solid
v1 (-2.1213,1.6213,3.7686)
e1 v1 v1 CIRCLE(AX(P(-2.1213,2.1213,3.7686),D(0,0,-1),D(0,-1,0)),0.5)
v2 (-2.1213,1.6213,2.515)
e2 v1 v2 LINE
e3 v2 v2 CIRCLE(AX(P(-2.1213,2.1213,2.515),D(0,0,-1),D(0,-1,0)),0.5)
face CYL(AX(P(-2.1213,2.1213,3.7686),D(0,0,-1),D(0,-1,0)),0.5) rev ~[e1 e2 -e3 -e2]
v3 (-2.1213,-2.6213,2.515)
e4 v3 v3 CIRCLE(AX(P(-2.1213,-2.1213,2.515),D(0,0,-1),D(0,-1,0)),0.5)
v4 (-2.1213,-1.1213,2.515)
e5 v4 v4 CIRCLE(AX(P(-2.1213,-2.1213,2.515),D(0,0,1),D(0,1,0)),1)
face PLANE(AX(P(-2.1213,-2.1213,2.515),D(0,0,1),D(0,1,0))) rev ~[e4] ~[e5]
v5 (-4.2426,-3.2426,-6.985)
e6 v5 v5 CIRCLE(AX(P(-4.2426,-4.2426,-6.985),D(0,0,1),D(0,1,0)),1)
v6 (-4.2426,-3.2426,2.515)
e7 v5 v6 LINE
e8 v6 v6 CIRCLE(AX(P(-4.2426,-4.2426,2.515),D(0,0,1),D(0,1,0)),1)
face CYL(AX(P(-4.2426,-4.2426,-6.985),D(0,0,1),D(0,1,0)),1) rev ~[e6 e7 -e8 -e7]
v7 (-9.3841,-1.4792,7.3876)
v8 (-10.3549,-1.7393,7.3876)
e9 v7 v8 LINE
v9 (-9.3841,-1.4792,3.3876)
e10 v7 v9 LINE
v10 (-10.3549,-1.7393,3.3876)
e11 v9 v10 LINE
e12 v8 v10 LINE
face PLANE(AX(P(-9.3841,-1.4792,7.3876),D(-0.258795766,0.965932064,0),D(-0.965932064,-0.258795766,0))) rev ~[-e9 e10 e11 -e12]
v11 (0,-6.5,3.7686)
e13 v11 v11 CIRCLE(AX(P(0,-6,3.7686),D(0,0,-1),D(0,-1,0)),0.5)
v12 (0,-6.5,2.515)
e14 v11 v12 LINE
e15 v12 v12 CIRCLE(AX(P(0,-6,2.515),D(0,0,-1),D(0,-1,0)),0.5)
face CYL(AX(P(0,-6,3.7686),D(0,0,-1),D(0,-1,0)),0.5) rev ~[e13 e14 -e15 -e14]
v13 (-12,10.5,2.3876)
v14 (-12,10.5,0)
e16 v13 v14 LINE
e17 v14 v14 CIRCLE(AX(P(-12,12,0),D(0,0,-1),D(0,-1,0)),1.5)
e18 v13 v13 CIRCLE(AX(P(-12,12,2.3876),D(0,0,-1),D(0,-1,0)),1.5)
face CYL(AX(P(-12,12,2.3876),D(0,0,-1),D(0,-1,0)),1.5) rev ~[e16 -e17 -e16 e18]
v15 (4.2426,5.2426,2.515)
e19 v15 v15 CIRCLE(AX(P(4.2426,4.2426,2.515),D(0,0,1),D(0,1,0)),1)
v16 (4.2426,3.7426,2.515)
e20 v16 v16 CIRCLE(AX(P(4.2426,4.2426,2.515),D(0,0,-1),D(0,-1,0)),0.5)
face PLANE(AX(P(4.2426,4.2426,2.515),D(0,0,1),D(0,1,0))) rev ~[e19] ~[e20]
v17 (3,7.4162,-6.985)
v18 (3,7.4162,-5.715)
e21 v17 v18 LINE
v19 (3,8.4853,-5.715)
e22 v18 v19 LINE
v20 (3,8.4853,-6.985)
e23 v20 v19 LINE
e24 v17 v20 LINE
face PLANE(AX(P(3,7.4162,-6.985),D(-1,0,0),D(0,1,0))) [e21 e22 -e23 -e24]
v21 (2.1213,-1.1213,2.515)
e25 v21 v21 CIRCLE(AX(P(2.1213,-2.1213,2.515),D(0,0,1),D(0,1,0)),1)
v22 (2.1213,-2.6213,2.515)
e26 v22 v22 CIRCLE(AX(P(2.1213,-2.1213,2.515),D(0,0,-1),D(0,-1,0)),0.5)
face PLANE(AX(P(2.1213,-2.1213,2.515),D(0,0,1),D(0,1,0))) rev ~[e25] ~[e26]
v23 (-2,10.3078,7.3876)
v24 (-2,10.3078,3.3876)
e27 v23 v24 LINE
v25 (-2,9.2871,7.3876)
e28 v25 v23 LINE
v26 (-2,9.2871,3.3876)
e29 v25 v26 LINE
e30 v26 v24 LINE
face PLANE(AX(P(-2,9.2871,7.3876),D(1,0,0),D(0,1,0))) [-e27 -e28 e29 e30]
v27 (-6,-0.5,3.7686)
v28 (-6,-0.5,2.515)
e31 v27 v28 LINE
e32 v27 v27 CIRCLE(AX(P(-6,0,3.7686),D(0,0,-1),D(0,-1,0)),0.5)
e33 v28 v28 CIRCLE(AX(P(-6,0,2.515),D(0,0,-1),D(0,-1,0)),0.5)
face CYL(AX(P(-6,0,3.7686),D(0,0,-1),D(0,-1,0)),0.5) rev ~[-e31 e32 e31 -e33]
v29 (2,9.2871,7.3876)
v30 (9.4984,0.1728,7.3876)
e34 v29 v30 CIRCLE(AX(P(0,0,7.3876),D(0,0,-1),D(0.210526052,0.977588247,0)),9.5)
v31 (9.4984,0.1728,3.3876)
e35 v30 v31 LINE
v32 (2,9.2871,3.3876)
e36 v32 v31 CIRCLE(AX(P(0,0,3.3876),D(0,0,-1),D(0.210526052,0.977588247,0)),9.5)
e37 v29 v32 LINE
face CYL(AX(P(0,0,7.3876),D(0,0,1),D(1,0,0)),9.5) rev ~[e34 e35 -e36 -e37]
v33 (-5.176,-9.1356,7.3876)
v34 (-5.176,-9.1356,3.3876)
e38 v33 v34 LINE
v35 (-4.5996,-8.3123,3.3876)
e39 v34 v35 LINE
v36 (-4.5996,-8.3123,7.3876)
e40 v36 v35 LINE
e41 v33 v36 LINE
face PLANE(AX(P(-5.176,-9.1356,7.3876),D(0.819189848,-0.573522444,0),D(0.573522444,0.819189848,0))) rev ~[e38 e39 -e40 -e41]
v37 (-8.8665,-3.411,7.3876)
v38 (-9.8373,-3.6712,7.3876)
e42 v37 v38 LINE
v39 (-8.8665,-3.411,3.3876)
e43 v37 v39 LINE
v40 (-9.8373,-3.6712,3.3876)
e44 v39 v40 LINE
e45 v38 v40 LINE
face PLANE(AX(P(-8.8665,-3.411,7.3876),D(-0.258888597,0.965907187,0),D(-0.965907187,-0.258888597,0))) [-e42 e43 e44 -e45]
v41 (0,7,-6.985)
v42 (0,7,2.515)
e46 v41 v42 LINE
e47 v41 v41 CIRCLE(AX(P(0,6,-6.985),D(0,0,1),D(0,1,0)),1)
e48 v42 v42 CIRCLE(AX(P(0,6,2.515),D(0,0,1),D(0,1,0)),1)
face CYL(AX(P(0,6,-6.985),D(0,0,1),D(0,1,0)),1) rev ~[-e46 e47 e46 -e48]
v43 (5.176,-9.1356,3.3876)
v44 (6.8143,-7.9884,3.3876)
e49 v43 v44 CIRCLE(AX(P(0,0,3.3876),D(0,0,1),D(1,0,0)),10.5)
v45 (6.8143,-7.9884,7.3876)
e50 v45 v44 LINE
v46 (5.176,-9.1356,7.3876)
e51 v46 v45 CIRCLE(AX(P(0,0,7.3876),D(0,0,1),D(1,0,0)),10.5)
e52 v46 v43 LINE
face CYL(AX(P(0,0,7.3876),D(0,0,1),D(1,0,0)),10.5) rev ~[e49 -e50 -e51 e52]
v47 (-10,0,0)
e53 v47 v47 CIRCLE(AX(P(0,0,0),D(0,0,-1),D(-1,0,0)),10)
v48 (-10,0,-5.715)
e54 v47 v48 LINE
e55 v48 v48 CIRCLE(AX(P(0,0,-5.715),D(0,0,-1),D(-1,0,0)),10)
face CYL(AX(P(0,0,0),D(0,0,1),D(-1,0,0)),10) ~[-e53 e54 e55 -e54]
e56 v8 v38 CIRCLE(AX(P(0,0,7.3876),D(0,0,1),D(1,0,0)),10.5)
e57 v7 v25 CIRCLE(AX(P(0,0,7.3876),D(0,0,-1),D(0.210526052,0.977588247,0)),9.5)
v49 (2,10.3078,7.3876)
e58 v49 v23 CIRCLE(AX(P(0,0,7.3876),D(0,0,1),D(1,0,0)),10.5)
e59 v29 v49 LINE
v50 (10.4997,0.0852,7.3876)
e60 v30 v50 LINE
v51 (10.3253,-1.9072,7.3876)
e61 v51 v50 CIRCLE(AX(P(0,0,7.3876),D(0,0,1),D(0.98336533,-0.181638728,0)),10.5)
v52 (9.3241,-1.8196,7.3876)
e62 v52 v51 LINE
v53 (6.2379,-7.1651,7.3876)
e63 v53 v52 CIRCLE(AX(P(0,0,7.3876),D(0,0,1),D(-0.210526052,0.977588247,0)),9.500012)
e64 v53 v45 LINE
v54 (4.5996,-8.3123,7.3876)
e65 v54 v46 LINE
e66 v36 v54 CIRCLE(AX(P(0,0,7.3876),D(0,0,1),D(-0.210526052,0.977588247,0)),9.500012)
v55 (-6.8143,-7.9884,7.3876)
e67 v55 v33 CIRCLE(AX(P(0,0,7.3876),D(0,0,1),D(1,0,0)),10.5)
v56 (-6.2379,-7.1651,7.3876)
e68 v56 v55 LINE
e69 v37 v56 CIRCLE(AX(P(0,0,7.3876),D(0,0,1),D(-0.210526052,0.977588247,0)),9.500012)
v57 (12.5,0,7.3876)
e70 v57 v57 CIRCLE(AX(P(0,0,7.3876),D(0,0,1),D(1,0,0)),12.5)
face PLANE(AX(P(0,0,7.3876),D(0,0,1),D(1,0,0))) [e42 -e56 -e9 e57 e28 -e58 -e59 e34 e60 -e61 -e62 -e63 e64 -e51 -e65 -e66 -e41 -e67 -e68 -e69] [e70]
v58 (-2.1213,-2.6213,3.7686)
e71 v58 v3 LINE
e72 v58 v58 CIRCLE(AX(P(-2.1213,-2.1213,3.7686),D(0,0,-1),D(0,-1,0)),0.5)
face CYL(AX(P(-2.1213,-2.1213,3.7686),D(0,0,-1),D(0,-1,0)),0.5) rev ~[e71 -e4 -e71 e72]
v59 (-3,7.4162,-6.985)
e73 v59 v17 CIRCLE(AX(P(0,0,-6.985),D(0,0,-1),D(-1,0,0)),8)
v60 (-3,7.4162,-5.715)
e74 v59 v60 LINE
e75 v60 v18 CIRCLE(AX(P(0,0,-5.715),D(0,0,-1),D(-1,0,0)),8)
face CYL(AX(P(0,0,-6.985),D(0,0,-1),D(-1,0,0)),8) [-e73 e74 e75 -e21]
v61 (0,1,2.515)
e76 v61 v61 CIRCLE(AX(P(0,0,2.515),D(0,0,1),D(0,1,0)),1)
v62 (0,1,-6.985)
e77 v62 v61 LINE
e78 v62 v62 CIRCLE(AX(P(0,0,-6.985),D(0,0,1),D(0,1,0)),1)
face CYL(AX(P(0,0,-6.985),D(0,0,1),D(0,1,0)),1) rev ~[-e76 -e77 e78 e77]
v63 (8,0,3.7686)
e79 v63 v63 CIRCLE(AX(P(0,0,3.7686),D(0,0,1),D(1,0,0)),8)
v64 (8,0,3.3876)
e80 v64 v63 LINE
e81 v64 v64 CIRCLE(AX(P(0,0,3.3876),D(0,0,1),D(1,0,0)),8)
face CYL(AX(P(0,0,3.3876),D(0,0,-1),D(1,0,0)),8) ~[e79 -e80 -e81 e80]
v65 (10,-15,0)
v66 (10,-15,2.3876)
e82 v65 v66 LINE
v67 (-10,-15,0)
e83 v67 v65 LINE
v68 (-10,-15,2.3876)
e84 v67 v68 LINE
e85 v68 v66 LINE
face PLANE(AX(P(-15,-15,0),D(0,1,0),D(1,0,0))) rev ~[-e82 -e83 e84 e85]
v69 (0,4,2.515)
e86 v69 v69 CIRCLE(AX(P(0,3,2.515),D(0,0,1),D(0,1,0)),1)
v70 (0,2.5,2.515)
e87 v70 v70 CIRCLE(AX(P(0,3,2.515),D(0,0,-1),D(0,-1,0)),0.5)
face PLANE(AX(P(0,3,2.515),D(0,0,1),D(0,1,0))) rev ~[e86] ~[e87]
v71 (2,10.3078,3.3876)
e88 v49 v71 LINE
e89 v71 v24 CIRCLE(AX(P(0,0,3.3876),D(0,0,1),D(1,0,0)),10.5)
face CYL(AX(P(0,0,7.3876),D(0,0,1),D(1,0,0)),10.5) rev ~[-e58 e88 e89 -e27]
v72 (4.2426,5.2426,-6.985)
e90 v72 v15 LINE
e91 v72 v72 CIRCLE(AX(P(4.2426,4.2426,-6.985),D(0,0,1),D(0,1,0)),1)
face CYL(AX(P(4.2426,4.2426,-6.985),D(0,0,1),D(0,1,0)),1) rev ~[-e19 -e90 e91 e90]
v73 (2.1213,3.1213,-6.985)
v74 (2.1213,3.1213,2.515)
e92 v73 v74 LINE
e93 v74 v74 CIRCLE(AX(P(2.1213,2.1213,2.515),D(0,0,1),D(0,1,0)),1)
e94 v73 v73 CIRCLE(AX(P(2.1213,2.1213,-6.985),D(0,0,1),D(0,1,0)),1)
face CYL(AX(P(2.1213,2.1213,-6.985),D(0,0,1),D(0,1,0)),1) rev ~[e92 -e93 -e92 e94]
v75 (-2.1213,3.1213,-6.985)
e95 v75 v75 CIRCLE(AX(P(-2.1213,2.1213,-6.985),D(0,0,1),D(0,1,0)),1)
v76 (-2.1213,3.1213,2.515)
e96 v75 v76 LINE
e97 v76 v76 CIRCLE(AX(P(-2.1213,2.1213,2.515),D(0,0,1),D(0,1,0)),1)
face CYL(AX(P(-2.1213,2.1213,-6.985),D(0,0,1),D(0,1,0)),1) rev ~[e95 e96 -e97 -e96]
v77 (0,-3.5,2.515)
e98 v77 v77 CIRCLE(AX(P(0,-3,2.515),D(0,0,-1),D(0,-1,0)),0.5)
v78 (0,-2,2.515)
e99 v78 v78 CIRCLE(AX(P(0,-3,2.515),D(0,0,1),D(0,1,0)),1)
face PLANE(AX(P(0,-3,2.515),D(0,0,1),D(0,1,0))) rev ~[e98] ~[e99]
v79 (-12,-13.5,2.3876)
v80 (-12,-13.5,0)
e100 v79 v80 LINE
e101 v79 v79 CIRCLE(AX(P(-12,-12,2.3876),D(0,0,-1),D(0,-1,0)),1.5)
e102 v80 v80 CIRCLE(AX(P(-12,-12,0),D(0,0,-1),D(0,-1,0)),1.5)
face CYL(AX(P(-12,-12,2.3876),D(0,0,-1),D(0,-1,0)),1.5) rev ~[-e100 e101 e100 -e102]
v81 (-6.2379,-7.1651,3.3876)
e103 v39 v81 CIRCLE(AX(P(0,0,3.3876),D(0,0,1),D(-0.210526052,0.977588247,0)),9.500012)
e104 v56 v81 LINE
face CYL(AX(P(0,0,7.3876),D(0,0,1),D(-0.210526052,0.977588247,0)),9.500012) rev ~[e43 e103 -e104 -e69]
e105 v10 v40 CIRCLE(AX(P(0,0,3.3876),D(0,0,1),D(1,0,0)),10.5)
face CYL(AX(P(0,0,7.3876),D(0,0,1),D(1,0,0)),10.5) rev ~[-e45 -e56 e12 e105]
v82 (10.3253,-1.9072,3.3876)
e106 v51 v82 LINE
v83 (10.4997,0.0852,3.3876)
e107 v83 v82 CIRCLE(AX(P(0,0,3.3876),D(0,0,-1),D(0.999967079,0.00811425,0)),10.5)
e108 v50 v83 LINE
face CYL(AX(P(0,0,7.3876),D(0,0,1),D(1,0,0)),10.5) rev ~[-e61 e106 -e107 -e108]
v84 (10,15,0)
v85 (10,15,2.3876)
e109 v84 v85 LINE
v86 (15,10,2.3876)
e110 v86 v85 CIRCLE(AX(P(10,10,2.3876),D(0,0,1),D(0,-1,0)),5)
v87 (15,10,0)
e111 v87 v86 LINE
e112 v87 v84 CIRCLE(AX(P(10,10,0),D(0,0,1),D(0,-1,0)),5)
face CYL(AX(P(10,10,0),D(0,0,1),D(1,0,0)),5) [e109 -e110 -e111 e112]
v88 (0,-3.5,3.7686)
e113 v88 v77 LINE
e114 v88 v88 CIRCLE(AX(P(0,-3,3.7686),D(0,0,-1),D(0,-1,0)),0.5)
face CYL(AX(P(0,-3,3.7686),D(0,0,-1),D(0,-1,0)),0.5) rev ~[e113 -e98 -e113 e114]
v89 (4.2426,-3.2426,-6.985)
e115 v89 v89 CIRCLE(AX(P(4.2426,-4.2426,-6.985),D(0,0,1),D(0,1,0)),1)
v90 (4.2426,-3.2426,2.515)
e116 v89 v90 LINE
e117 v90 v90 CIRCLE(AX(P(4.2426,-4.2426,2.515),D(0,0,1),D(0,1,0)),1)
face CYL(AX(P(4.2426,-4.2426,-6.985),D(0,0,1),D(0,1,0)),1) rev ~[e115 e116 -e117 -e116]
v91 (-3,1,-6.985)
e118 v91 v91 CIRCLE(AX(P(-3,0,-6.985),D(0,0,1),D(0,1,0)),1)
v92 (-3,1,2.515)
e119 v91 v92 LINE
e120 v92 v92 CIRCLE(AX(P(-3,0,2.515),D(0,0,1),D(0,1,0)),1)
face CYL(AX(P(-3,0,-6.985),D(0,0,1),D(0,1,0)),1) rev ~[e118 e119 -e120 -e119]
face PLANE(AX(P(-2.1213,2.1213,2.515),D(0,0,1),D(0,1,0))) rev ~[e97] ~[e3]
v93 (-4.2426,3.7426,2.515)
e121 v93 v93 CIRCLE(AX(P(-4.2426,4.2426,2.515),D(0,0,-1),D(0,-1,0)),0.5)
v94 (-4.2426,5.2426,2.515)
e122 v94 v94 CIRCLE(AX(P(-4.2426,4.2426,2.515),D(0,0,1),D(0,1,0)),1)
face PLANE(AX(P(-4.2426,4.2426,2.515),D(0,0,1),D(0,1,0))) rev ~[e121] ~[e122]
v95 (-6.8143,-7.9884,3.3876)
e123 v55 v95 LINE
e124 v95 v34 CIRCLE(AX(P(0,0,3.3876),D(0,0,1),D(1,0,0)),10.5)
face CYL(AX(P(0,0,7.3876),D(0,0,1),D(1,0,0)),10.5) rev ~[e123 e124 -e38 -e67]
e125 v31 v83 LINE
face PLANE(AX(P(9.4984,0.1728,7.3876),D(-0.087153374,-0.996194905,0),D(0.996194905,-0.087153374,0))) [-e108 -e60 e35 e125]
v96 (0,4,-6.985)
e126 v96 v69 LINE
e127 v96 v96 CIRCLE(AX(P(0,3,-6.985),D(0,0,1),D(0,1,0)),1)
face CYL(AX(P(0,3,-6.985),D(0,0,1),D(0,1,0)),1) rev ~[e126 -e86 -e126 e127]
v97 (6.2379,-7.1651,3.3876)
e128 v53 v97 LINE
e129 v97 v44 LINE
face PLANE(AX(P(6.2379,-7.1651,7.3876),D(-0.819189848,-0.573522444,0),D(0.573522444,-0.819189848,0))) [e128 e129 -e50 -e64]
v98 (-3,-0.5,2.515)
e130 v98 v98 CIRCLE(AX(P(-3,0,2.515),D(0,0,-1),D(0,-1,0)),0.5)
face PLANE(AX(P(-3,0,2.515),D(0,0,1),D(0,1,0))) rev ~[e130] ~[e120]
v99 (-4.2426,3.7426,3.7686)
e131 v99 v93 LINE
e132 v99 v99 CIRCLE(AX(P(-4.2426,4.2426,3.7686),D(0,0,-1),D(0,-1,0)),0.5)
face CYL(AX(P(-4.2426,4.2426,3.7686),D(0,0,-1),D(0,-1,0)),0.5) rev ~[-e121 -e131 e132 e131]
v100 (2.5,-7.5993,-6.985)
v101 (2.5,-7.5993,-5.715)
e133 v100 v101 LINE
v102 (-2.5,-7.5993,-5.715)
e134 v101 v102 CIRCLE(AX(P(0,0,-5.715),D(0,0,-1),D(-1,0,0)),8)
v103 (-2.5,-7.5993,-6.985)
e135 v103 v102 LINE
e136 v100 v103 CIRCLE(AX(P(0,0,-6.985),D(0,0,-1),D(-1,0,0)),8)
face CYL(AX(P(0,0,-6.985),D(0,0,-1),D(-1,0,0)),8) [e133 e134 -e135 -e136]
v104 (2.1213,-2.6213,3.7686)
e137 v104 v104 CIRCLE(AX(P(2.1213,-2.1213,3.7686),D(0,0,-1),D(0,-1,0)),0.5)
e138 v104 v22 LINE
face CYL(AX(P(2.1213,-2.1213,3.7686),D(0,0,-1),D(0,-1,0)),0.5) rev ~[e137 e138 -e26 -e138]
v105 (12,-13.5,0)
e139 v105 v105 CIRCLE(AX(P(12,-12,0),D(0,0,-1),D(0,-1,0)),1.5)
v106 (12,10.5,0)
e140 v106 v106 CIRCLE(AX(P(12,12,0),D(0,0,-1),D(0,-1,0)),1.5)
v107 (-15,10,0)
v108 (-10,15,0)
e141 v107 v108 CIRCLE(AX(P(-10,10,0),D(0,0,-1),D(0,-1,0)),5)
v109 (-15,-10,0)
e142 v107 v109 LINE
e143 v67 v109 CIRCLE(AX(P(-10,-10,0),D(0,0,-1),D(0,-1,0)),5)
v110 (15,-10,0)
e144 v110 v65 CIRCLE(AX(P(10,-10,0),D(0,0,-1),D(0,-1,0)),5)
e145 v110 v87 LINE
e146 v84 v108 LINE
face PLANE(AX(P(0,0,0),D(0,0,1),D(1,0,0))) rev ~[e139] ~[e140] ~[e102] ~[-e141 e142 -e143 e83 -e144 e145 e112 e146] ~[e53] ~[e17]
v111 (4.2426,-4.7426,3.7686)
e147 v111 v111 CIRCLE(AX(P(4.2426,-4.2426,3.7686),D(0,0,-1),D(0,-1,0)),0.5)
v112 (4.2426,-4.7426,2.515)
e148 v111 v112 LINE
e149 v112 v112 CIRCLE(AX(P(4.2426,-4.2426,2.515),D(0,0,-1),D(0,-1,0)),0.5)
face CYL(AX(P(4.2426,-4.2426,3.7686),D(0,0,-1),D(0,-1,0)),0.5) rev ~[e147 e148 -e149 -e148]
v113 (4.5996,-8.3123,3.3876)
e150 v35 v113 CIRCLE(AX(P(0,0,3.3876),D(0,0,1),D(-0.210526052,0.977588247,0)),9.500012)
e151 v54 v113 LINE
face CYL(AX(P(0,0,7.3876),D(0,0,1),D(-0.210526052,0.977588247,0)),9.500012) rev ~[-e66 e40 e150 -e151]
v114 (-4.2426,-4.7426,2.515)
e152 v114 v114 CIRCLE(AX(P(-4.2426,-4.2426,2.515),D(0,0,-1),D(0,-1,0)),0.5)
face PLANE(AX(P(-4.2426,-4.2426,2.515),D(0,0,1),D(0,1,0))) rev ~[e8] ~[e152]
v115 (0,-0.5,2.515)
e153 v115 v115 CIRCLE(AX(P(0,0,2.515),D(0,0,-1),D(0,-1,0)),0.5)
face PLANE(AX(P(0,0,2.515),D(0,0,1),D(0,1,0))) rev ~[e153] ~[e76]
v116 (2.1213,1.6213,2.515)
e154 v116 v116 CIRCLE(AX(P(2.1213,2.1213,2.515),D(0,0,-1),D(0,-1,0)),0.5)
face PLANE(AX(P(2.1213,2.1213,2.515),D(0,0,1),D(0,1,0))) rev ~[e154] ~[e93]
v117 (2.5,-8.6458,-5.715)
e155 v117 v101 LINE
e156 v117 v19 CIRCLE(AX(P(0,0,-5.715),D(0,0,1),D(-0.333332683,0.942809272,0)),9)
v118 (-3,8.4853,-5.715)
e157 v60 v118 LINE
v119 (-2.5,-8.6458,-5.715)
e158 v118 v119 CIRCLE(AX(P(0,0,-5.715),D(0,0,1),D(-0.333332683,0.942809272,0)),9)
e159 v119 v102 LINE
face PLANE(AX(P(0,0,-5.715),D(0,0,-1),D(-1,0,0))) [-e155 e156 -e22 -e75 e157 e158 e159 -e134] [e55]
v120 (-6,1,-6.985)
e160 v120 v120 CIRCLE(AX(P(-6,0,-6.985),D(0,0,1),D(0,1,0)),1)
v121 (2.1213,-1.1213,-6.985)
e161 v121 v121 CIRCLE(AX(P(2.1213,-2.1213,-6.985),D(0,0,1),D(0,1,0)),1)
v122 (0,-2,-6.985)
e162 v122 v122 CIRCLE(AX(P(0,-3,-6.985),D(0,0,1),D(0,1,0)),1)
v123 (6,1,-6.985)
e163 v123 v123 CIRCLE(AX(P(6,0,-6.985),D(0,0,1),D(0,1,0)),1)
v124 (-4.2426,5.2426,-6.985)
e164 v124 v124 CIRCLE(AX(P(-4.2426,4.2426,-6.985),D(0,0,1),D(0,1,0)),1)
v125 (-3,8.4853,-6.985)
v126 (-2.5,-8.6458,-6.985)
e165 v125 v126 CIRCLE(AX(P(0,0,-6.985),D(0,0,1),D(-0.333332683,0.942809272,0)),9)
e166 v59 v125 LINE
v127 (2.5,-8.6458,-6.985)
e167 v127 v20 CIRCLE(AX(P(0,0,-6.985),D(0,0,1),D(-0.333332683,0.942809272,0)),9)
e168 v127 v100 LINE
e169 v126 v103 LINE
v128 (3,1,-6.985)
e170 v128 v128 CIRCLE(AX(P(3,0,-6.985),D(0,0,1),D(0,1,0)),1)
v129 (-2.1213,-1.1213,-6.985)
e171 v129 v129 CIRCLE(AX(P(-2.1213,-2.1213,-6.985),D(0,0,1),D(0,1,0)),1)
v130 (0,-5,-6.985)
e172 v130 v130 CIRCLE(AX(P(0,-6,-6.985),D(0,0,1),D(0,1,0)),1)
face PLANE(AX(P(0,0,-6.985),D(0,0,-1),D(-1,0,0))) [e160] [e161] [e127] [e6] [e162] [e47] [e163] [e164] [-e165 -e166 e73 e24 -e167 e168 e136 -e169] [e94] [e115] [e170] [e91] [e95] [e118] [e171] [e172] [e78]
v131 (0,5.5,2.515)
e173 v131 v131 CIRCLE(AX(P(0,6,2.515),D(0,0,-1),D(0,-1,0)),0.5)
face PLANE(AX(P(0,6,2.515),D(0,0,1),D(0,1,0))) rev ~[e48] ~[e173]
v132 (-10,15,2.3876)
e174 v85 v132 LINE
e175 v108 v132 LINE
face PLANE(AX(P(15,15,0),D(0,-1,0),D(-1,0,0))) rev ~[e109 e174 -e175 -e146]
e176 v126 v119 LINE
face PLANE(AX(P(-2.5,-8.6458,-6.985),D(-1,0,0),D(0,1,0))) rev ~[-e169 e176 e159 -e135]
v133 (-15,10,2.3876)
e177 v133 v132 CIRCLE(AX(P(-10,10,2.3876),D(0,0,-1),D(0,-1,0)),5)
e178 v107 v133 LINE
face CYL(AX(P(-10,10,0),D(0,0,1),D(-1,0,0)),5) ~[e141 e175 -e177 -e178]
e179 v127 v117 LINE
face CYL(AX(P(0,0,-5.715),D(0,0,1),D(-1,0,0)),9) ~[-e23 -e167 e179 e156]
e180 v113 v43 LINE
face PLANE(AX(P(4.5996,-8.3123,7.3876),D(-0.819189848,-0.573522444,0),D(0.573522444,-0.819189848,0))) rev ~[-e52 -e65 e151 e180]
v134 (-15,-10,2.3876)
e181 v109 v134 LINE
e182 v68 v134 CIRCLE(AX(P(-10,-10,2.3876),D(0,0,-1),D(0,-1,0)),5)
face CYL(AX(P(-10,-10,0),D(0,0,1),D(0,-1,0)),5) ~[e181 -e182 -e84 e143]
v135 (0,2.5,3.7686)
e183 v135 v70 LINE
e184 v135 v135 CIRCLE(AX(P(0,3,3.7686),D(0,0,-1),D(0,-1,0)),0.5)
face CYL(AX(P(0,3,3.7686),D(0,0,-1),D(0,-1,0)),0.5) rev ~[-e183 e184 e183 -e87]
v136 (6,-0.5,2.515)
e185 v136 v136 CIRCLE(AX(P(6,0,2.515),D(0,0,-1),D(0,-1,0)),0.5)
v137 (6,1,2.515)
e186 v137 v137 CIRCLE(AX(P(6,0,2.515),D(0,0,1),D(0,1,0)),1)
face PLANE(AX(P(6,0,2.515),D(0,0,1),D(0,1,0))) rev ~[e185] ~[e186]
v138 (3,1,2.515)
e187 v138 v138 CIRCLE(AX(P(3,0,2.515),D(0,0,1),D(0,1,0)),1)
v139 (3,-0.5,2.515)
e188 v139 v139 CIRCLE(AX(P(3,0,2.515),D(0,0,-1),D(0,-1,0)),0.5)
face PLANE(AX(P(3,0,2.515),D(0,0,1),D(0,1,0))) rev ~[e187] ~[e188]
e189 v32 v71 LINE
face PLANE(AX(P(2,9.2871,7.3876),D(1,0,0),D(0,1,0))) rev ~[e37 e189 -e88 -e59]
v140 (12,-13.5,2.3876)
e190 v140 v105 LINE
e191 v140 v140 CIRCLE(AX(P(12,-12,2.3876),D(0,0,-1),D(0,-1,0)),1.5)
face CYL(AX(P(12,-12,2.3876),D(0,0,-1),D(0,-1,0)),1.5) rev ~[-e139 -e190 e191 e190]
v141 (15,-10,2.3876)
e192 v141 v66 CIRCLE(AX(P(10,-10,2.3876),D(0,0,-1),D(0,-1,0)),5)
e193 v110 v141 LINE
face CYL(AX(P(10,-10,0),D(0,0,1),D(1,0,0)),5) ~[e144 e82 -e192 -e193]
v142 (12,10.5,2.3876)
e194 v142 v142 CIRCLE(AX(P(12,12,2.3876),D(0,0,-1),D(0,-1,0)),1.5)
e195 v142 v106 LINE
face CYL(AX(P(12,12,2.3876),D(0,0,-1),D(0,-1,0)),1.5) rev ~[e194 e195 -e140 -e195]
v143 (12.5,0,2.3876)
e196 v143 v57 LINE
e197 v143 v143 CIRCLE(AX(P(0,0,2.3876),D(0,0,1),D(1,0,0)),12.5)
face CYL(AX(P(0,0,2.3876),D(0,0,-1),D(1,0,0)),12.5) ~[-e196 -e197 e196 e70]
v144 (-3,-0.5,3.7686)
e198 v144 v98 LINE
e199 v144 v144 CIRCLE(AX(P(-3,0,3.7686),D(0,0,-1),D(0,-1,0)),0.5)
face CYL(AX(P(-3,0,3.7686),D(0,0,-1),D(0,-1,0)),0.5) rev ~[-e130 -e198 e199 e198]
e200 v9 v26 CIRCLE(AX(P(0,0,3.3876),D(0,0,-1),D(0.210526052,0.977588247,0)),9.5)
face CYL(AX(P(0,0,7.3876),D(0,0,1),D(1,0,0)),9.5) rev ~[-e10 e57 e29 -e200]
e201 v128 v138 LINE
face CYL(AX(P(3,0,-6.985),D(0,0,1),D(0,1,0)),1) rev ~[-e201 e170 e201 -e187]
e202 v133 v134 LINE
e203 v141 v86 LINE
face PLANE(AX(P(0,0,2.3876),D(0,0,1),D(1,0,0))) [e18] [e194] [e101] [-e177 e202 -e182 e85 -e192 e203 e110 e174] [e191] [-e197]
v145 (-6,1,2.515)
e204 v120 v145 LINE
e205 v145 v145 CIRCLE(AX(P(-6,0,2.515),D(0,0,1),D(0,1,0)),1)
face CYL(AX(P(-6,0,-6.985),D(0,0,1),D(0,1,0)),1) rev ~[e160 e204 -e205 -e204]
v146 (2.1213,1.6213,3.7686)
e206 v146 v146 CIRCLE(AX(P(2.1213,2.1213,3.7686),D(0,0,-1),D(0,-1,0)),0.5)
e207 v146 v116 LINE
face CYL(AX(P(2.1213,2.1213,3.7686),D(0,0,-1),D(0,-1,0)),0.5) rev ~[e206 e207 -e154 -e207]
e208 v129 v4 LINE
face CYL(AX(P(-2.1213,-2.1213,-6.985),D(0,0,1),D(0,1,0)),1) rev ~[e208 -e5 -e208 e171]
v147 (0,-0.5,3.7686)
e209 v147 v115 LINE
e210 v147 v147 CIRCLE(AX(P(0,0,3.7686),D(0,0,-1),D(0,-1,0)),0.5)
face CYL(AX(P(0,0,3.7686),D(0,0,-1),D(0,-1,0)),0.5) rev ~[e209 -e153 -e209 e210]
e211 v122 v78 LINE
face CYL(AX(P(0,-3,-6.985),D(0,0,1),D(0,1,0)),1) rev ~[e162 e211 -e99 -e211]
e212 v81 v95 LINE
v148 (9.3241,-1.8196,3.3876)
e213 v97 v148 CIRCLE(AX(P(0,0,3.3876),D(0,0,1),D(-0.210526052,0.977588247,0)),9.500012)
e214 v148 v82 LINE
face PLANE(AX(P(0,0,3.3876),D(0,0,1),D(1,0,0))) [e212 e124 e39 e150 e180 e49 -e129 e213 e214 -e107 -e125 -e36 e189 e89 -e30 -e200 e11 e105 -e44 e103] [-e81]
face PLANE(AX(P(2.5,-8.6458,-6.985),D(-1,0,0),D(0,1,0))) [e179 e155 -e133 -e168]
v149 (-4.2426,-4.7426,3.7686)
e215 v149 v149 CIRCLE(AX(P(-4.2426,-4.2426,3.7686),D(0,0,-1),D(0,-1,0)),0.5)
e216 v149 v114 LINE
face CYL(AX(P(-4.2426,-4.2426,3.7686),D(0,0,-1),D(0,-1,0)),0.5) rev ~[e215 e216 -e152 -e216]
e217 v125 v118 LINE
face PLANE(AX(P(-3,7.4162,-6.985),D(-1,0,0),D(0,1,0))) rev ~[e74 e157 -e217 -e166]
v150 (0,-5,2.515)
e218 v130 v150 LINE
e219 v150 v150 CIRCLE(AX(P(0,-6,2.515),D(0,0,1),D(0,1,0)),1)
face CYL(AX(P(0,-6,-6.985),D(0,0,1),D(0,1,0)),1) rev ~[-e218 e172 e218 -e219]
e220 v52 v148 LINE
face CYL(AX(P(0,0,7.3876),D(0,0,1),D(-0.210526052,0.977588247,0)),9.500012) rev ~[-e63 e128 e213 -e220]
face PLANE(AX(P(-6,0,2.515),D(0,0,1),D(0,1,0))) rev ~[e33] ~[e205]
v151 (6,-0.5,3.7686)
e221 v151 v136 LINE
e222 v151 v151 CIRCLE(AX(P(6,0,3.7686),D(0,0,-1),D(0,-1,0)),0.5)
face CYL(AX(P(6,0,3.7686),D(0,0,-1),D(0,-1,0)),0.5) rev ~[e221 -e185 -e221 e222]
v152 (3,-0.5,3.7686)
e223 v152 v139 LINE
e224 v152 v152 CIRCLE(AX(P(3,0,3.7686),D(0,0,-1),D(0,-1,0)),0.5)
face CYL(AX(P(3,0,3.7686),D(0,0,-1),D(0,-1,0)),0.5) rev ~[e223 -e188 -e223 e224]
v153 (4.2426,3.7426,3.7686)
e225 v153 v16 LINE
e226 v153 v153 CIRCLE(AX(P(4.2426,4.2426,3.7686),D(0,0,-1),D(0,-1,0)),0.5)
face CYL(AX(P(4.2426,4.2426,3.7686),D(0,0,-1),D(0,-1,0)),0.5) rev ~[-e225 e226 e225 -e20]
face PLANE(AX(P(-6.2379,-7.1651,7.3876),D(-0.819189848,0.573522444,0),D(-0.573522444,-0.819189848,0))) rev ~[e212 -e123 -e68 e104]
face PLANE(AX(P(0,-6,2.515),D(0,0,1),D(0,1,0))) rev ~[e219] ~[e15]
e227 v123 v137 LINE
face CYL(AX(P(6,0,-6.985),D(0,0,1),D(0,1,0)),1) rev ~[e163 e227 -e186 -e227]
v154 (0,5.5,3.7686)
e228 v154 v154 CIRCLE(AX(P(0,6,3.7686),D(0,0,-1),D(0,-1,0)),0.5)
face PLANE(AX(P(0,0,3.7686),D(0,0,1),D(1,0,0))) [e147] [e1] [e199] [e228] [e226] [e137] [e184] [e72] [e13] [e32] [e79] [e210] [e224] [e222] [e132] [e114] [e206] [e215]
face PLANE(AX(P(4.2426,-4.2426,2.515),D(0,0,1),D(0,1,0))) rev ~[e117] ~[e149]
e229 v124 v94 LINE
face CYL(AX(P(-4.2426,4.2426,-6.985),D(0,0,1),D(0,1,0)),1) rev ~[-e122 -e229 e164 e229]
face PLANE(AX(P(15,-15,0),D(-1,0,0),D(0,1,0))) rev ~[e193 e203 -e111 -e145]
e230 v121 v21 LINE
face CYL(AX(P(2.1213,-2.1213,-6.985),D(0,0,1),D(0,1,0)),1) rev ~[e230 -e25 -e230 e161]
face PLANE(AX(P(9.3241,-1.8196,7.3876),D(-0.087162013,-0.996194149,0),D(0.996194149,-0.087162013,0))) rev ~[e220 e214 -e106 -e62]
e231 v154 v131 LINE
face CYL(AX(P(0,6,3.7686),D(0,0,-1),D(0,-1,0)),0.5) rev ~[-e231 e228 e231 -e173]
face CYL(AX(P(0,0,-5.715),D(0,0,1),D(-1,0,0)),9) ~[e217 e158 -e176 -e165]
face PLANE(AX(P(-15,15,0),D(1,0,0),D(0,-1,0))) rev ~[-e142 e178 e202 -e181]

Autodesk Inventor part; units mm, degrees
ref_plane "YZ Plane" through (0, 0, 0) normal (1, 0, 0) x (0, 1, 0)
ref_plane "XZ Plane" through (0, 0, 0) normal (0, 1, 0) x (-1, 0, 0)
ref_plane "XY Plane" through (0, 0, 0) normal (0, 0, 1) x (1, 0, 0)
sketch "Sketch1" plane through (0, 0, 0) normal (0, 0, 1) x (1, 0, 0)
  line L0 (15, 15) -> (-15, 15)
  line L1 (-15, 15) -> (-15, -15)
  line L2 (-15, -15) -> (15, -15)
  line L3 (15, -15) -> (15, 15)
  point P0 (0, 0)
  point P1 (15, 0)
  point P2 (0, 15)
  dimension "d0" = 30
extrude "Extrusion1" add sketch "Sketch1" along normal blind 2.3876
fillet "Fillet1" radius 5 4 edges at (15, 15, 1.1938) (-15, 15, 1.1938) (-15, -15, 1.1938) (15, -15, 1.1938)
sketch "Sketch2" plane through (0, 0, 2.3876) normal (0, 0, 1) x (1, 0, 0)
  line L0 (10, -15) -> (-10, -15) projected
  line L1 (15, 10) -> (15, -10) projected
  line L2 (-10, 15) -> (10, 15) projected
  line L3 (-15, -10) -> (-15, 10) projected
  point P0 (-12, 12)
  point P1 (12, 12)
  point P2 (12, -12)
  point P3 (-12, -12)
  dimension "d4" = 3
  dimension "d5" = 3
  dimension "d6" = 3
  dimension "d7" = 3
hole "Hole1" at (-12, 12, 2.3876) at (12, 12, 2.3876) at (12, -12, 2.3876) at (-12, -12, 2.3876) direction (0, 0, -1) diameter 3 end through all
sketch "Sketch3" plane through (0, 0, 2.3876) normal (0, 0, 1) x (1, 0, 0)
  line L0 (15, 10) -> (15, -10) projected
  line L1 (-10, 15) -> (10, 15) projected
  circle A0 centre (0, 0) radius 12.5
  point P0 (15, 0)
  point P1 (0, 15)
  dimension "d15" = 25
extrude "Extrusion2" add sketch "Sketch3" along normal blind 5
sketch "Sketch4" plane through (0, 0, 7.3876) normal (0, 0, 1) x (1, 0, 0)
  circle A0 centre (0, 0) radius 12.5 projected
  circle A1 centre (0, 0) radius 9.5
  dimension "d86" = 3
extrude "Extrusion3" cut sketch "Sketch4" against normal blind 4 contours A1
sketch "Sketch5" plane through (0, 0, 7.3876) normal (0, 0, 1) x (1, 0, 0)
  circle A0 centre (0, 0) radius 9.5 projected
  circle A1 centre (0, 0) radius 12.5 projected
  circle A2 centre (0, 0) radius 10.5
  line L0 (-2, 9.2871) -> (-2, 10.3078)
  line L1 (2, 9.2871) -> (2, 10.3078)
  dimension "d23" = 4
  dimension "d85" = 2
extrude "Extrusion4" cut sketch "Sketch5" against normal up to surface (4 mm away) contours A0 L0 A2 L1 picked at (-1.557, 9.6904)
sketch "Sketch6" plane through (0, 0, 7.3876) normal (0, 0, 1) x (1, 0, 0)
  line L0 (2, 10.3078) -> (2, 9.2871) projected
  arc A0 (-2, 9.2871) -> (2, 9.2871) centre (0, 0) ccw projected
  line L1 (-2, 9.2871) -> (-2, 10.3078) projected
  arc A1 (2, 10.3078) -> (-2, 10.3078) centre (0, 0) ccw projected
  circle A2 centre (0, 0) radius 12.5 projected
  circle A3 centre (0, 0) radius 10.5
  line L2 (-9.3841, -1.4792) -> (-10.3549, -1.7393)
  line L3 (-8.8665, -3.411) -> (-9.8373, -3.6712)
  line L4 (-6.2379, -7.1651) -> (-6.8143, -7.9884)
  line L5 (-5.176, -9.1356) -> (-4.5996, -8.3123)
  line L6 (4.5996, -8.3123) -> (5.176, -9.1356)
  line L7 (6.2379, -7.1651) -> (6.8143, -7.9884)
  line L8 (9.4984, 0.1728) -> (10.4997, 0.0852)
  line L9 (9.3241, -1.8196) -> (10.3253, -1.9072)
  dimension "d26" = 105
  dimension "d27" = 2
  dimension "d30" = 2
  dimension "d31" = 40
  dimension "d32" = 70
  dimension "d33" = 2
  dimension "d34" = 2
  dimension "d35" = 50
extrude "Extrusion5" cut sketch "Sketch6" against normal up to surface (4 mm away) contours L0 A0 L1 A1 | A3 L9 A0 L8 | L2 A0 L3 A3 | L7 A3 L6 A0 | L4 A0 L5 A3
sketch "Sketch7" plane through (0, 0, 3.3876) normal (0, 0, 1) x (1, 0, 0)
  arc A0 (2, 10.3078) -> (-2, 10.3078) centre (0, 0) ccw projected
  circle A1 centre (0, 0) radius 8
  arc A2 (-2, 9.2871) -> (-9.3841, -1.4792) centre (0, 0) ccw projected
  dimension "d84" = 1.5
extrude "Extrusion6" add sketch "Sketch7" along normal blind 0.381
sketch "Sketch8" plane through (0, 0, 0) normal (0, 0, -1) x (-1, 0, 0)
  line L0 (-10, 15) -> (10, 15) projected
  line L1 (-15, -10) -> (-15, 10) projected
  circle A0 centre (0, 0) radius 10
  point P0 (-15, 0)
  point P1 (0, 15)
  dimension "d39" = 20
extrude "Extrusion7" add sketch "Sketch8" along normal blind 5.715
sketch "Sketch9" plane through (0, 0, -5.715) normal (0, 0, -1) x (-1, 0, 0)
  circle A0 centre (0, 0) radius 10 projected
  circle A1 centre (0, 0) radius 9
  dimension "d83" = 1
extrude "Extrusion8" add sketch "Sketch9" along normal blind 1.27 contours A1
sketch "Sketch10" plane through (0, 0, -6.985) normal (0, 0, -1) x (-1, 0, 0)
  circle A0 centre (0, 0) radius 9 projected
  circle A1 centre (0, 0) radius 8
  line L0 (-3, 7.4162) -> (-3, 8.4853)
  line L1 (3, 7.4162) -> (3, 8.4853)
  dimension "d46" = 6
  dimension "d82" = 1
extrude "Extrusion9" cut sketch "Sketch10" against normal up to surface (1.27 mm away) contours L1 A1 L0 A0 picked at (-1.8485, 8.4268)
sketch "Sketch11" plane through (0, 0, 3.7686) normal (0, 0, 1) x (1, 0, 0)
  circle A0 centre (0, 0) radius 8 projected
  line L0 (0, 0) -> (0, 6) construction
  point P0 (0, 3)
  point P1 (-2.1213, 2.1213)
  point P2 (-3, 0)
  point P3 (-2.1213, -2.1213)
  point P4 (0, -3)
  point P5 (2.1213, -2.1213)
  point P6 (3, 0)
  point P7 (2.1213, 2.1213)
  point P8 (4.2426, 4.2426)
  point P9 (6, 0)
  point P10 (4.2426, -4.2426)
  point P11 (0, -6)
  point P12 (-4.2426, -4.2426)
  point P13 (-6, 0)
  point P14 (-4.2426, 4.2426)
  dimension "d49" = 3
  dimension "d52" = 360
  dimension "d87" = 6
  dimension "d90" = 360
hole "Hole2" at (0, 0, 3.7686) at (0, 3, 3.7686) at (-2.1213, 2.1213, 3.7686) at (-3, 0, 3.7686) at (-2.1213, -2.1213, 3.7686) at (0, -3, 3.7686) at (2.1213, -2.1213, 3.7686) at (3, 0, 3.7686) at (2.1213, 2.1213, 3.7686) at (0, 6, 3.7686) at (4.2426, 4.2426, 3.7686) at (6, 0, 3.7686) at (4.2426, -4.2426, 3.7686) at (0, -6, 3.7686) at (-4.2426, -4.2426, 3.7686) at (-6, 0, 3.7686) at (-4.2426, 4.2426, 3.7686) direction (0, 0, -1) diameter 1 end through all
sketch "Sketch12" plane through (0, 0, -6.985) normal (0, 0, -1) x (-1, 0, 0)
  circle A0 centre (-3, 0) radius 0.5 projected
  circle A1 centre (0, -3) radius 0.5 projected
  circle A2 centre (3, 0) radius 0.5 projected
  circle A3 centre (0, 3) radius 0.5 projected
  circle A4 centre (0, 0) radius 0.5 projected
  circle A5 centre (2.1213, 2.1213) radius 0.5 projected
  circle A6 centre (2.1213, -2.1213) radius 0.5 projected
  circle A7 centre (-2.1213, -2.1213) radius 0.5 projected
  circle A8 centre (-2.1213, 2.1213) radius 0.5 projected
  point P0 (6, 0)
  point P1 (0, -6)
  point P2 (-6, 0)
  point P3 (0, 6)
  point P4 (-4.2426, 4.2426)
  point P5 (-4.2426, -4.2426)
  point P6 (4.2426, -4.2426)
  point P7 (4.2426, 4.2426)
  point P8 (0, 0)
  point P9 (0, 0)
hole "Hole3" at (0, 3, -6.985) at (2.1213, 2.1213, -6.985) at (3, 0, -6.985) at (2.1213, -2.1213, -6.985) at (0, 0, -6.985) at (-2.1213, 2.1213, -6.985) at (-3, 0, -6.985) at (-2.1213, -2.1213, -6.985) at (0, -3, -6.985) at (4.2426, 4.2426, -6.985) at (0, 6, -6.985) at (-4.2426, 4.2426, -6.985) at (-6, 0, -6.985) at (-4.2426, -4.2426, -6.985) at (0, -6, -6.985) at (4.2426, -4.2426, -6.985) at (6, 0, -6.985) direction (0, 0, 1) diameter 2 depth 9.5
sketch "Sketch13" plane through (0, 0, -6.985) normal (0, 0, -1) x (-1, 0, 0)
  arc A0 (-3, 8.4853) -> (3, 8.4853) centre (0, 0) ccw projected
  line L0 (3, 8.4853) -> (3, 7.4162) projected
  arc A1 (3, 7.4162) -> (-3, 7.4162) centre (0, 0) ccw projected
  circle A2 centre (0, 0) radius 8
  line L1 (-2.5, -8.6458) -> (-2.5, -7.5993)
  line L2 (2.5, -8.6458) -> (2.5, -7.5993)
  dimension "d68" = 5
extrude "Extrusion10" cut sketch "Sketch13" against normal up to surface (1.27 mm away) contours L1 A2 L2 A0
sketch "Sketch25" plane through (0, 0, 3.7686) normal (0, 0, 1) x (1, 0, 0)
  line L0 (-1.0163, 4.6819) -> (0.1279, 4.6819) construction
  line L1 (0.1279, 4.6819) -> (0.1279, 3.2031) construction
  line L2 (0.1279, 3.2031) -> (-1.0163, 3.2031) construction
  line L3 (-1.0163, 3.2031) -> (-1.0163, 4.6819) construction
  line L4 (3.2538, -0.055) -> (3.2538, 1.4238) construction
  line L5 (3.2538, 1.4238) -> (4.398, 1.4238) construction
  line L6 (4.398, 1.4238) -> (4.398, -0.055) construction
  line L7 (4.398, -0.055) -> (3.2538, -0.055) construction
  line L8 (1.6906, 2.4904) -> (1.6906, 3.9692) construction
  line L9 (1.6906, 3.9692) -> (2.8348, 3.9692) construction
  line L10 (2.8348, 3.9692) -> (2.8348, 2.4904) construction
  line L11 (2.8348, 2.4904) -> (1.6906, 2.4904) construction
  line L12 (-2.7944, -4.281) -> (-2.7944, -2.8021) construction
  line L13 (-2.7944, -2.8021) -> (-1.6502, -2.8021) construction
  line L14 (-1.6502, -2.8021) -> (-1.6502, -4.281) construction
  line L15 (-1.6502, -4.281) -> (-2.7944, -4.281) construction
  line L16 (-3.4049, 1.9851) -> (-3.4049, 3.4639) construction
  line L17 (-3.4049, 3.4639) -> (-2.2607, 3.4639) construction
  line L18 (-2.2607, 3.4639) -> (-2.2607, 1.9851) construction
  line L19 (-2.2607, 1.9851) -> (-3.4049, 1.9851) construction
  line L20 (-0.3938, -2.1662) -> (-0.3938, -0.6874) construction
  line L21 (-0.3938, -0.6874) -> (0.7504, -0.6874) construction
  line L22 (0.7504, -0.6874) -> (0.7504, -2.1662) construction
  line L23 (0.7504, -2.1662) -> (-0.3938, -2.1662) construction
  line L24 (0.0431, -4.9913) -> (0.0431, -3.5125) construction
  line L25 (0.0431, -3.5125) -> (1.1873, -3.5125) construction
  line L26 (1.1873, -3.5125) -> (1.1873, -4.9913) construction
  line L27 (1.1873, -4.9913) -> (0.0431, -4.9913) construction
  line L28 (-4.4721, -0.8803) -> (-4.4721, 0.5985) construction
  line L29 (-4.4721, 0.5985) -> (-3.3279, 0.5985) construction
  line L30 (-3.3279, 0.5985) -> (-3.3279, -0.8803) construction
  line L31 (-3.3279, -0.8803) -> (-4.4721, -0.8803) construction
  line L32 (-0.7955, 6.2805) -> (-0.7955, 7.7593) construction
  line L33 (-0.7955, 7.7593) -> (0.3487, 7.7593) construction
  line L34 (0.3487, 7.7593) -> (0.3487, 6.2805) construction
  line L35 (0.3487, 6.2805) -> (-0.7955, 6.2805) construction
  line L36 (2.6912, -3.4816) -> (2.6912, -2.0028) construction
  line L37 (2.6912, -2.0028) -> (3.8354, -2.0028) construction
  line L38 (3.8354, -2.0028) -> (3.8354, -3.4816) construction
  line L39 (3.8354, -3.4816) -> (2.6912, -3.4816) construction
  line L40 (6.0179, 0.2278) -> (6.0179, 1.7067) construction
  line L41 (6.0179, 1.7067) -> (7.1621, 1.7067) construction
  line L42 (7.1621, 1.7067) -> (7.1621, 0.2278) construction
  line L43 (7.1621, 0.2278) -> (6.0179, 0.2278) construction
  line L44 (3.4493, 4.5372) -> (3.4493, 6.016) construction
  line L45 (3.4493, 6.016) -> (4.5935, 6.016) construction
  line L46 (4.5935, 6.016) -> (4.5935, 4.5372) construction
  line L47 (4.5935, 4.5372) -> (3.4493, 4.5372) construction
  line L48 (3.4493, -6.362) -> (3.4493, -4.8831) construction
  line L49 (3.4493, -4.8831) -> (4.5935, -4.8831) construction
  line L50 (4.5935, -4.8831) -> (4.5935, -6.362) construction
  line L51 (4.5935, -6.362) -> (3.4493, -6.362) construction
  line L52 (-1.904, -8) -> (-1.904, -6.5212) construction
  line L53 (-1.904, -6.5212) -> (-0.7598, -6.5212) construction
  line L54 (-0.7598, -6.5212) -> (-0.7598, -8) construction
  line L55 (-0.7598, -8) -> (-1.904, -8) construction
  line L56 (-6.5, -4.8831) -> (-6.5, -3.4043) construction
  line L57 (-6.5, -3.4043) -> (-5.3558, -3.4043) construction
  line L58 (-5.3558, -3.4043) -> (-5.3558, -4.8831) construction
  line L59 (-5.3558, -4.8831) -> (-6.5, -4.8831) construction
  line L60 (-7.769, 0.2278) -> (-7.769, 1.7067) construction
  line L61 (-7.769, 1.7067) -> (-6.6248, 1.7067) construction
  line L62 (-6.6248, 1.7067) -> (-6.6248, 0.2278) construction
  line L63 (-6.6248, 0.2278) -> (-7.769, 0.2278) construction
  line L64 (-4.7426, 4.7426) -> (-4.7426, 6.2215) construction
  line L65 (-4.7426, 6.2215) -> (-3.5984, 6.2215) construction
  line L66 (-3.5984, 6.2215) -> (-3.5984, 4.7426) construction
  line L67 (-3.5984, 4.7426) -> (-4.7426, 4.7426) construction
ref_plane "Work Plane2" through (0, 0, -12.985) normal (0, 0, -1) x (-1, 0, 0)
ref_plane "Work Plane3" through (0, 0, -14.985) normal (0, 0, -1) x (-1, 0, 0)
equation "\"d5\" = d4"
equation "\"d6\" = d4"
equation "\"d7\" = d4"
equation "\"d30\" = d27"
equation "\"d33\" = d30"
equation "\"d34\" = d33"
properties part number "3601243"
